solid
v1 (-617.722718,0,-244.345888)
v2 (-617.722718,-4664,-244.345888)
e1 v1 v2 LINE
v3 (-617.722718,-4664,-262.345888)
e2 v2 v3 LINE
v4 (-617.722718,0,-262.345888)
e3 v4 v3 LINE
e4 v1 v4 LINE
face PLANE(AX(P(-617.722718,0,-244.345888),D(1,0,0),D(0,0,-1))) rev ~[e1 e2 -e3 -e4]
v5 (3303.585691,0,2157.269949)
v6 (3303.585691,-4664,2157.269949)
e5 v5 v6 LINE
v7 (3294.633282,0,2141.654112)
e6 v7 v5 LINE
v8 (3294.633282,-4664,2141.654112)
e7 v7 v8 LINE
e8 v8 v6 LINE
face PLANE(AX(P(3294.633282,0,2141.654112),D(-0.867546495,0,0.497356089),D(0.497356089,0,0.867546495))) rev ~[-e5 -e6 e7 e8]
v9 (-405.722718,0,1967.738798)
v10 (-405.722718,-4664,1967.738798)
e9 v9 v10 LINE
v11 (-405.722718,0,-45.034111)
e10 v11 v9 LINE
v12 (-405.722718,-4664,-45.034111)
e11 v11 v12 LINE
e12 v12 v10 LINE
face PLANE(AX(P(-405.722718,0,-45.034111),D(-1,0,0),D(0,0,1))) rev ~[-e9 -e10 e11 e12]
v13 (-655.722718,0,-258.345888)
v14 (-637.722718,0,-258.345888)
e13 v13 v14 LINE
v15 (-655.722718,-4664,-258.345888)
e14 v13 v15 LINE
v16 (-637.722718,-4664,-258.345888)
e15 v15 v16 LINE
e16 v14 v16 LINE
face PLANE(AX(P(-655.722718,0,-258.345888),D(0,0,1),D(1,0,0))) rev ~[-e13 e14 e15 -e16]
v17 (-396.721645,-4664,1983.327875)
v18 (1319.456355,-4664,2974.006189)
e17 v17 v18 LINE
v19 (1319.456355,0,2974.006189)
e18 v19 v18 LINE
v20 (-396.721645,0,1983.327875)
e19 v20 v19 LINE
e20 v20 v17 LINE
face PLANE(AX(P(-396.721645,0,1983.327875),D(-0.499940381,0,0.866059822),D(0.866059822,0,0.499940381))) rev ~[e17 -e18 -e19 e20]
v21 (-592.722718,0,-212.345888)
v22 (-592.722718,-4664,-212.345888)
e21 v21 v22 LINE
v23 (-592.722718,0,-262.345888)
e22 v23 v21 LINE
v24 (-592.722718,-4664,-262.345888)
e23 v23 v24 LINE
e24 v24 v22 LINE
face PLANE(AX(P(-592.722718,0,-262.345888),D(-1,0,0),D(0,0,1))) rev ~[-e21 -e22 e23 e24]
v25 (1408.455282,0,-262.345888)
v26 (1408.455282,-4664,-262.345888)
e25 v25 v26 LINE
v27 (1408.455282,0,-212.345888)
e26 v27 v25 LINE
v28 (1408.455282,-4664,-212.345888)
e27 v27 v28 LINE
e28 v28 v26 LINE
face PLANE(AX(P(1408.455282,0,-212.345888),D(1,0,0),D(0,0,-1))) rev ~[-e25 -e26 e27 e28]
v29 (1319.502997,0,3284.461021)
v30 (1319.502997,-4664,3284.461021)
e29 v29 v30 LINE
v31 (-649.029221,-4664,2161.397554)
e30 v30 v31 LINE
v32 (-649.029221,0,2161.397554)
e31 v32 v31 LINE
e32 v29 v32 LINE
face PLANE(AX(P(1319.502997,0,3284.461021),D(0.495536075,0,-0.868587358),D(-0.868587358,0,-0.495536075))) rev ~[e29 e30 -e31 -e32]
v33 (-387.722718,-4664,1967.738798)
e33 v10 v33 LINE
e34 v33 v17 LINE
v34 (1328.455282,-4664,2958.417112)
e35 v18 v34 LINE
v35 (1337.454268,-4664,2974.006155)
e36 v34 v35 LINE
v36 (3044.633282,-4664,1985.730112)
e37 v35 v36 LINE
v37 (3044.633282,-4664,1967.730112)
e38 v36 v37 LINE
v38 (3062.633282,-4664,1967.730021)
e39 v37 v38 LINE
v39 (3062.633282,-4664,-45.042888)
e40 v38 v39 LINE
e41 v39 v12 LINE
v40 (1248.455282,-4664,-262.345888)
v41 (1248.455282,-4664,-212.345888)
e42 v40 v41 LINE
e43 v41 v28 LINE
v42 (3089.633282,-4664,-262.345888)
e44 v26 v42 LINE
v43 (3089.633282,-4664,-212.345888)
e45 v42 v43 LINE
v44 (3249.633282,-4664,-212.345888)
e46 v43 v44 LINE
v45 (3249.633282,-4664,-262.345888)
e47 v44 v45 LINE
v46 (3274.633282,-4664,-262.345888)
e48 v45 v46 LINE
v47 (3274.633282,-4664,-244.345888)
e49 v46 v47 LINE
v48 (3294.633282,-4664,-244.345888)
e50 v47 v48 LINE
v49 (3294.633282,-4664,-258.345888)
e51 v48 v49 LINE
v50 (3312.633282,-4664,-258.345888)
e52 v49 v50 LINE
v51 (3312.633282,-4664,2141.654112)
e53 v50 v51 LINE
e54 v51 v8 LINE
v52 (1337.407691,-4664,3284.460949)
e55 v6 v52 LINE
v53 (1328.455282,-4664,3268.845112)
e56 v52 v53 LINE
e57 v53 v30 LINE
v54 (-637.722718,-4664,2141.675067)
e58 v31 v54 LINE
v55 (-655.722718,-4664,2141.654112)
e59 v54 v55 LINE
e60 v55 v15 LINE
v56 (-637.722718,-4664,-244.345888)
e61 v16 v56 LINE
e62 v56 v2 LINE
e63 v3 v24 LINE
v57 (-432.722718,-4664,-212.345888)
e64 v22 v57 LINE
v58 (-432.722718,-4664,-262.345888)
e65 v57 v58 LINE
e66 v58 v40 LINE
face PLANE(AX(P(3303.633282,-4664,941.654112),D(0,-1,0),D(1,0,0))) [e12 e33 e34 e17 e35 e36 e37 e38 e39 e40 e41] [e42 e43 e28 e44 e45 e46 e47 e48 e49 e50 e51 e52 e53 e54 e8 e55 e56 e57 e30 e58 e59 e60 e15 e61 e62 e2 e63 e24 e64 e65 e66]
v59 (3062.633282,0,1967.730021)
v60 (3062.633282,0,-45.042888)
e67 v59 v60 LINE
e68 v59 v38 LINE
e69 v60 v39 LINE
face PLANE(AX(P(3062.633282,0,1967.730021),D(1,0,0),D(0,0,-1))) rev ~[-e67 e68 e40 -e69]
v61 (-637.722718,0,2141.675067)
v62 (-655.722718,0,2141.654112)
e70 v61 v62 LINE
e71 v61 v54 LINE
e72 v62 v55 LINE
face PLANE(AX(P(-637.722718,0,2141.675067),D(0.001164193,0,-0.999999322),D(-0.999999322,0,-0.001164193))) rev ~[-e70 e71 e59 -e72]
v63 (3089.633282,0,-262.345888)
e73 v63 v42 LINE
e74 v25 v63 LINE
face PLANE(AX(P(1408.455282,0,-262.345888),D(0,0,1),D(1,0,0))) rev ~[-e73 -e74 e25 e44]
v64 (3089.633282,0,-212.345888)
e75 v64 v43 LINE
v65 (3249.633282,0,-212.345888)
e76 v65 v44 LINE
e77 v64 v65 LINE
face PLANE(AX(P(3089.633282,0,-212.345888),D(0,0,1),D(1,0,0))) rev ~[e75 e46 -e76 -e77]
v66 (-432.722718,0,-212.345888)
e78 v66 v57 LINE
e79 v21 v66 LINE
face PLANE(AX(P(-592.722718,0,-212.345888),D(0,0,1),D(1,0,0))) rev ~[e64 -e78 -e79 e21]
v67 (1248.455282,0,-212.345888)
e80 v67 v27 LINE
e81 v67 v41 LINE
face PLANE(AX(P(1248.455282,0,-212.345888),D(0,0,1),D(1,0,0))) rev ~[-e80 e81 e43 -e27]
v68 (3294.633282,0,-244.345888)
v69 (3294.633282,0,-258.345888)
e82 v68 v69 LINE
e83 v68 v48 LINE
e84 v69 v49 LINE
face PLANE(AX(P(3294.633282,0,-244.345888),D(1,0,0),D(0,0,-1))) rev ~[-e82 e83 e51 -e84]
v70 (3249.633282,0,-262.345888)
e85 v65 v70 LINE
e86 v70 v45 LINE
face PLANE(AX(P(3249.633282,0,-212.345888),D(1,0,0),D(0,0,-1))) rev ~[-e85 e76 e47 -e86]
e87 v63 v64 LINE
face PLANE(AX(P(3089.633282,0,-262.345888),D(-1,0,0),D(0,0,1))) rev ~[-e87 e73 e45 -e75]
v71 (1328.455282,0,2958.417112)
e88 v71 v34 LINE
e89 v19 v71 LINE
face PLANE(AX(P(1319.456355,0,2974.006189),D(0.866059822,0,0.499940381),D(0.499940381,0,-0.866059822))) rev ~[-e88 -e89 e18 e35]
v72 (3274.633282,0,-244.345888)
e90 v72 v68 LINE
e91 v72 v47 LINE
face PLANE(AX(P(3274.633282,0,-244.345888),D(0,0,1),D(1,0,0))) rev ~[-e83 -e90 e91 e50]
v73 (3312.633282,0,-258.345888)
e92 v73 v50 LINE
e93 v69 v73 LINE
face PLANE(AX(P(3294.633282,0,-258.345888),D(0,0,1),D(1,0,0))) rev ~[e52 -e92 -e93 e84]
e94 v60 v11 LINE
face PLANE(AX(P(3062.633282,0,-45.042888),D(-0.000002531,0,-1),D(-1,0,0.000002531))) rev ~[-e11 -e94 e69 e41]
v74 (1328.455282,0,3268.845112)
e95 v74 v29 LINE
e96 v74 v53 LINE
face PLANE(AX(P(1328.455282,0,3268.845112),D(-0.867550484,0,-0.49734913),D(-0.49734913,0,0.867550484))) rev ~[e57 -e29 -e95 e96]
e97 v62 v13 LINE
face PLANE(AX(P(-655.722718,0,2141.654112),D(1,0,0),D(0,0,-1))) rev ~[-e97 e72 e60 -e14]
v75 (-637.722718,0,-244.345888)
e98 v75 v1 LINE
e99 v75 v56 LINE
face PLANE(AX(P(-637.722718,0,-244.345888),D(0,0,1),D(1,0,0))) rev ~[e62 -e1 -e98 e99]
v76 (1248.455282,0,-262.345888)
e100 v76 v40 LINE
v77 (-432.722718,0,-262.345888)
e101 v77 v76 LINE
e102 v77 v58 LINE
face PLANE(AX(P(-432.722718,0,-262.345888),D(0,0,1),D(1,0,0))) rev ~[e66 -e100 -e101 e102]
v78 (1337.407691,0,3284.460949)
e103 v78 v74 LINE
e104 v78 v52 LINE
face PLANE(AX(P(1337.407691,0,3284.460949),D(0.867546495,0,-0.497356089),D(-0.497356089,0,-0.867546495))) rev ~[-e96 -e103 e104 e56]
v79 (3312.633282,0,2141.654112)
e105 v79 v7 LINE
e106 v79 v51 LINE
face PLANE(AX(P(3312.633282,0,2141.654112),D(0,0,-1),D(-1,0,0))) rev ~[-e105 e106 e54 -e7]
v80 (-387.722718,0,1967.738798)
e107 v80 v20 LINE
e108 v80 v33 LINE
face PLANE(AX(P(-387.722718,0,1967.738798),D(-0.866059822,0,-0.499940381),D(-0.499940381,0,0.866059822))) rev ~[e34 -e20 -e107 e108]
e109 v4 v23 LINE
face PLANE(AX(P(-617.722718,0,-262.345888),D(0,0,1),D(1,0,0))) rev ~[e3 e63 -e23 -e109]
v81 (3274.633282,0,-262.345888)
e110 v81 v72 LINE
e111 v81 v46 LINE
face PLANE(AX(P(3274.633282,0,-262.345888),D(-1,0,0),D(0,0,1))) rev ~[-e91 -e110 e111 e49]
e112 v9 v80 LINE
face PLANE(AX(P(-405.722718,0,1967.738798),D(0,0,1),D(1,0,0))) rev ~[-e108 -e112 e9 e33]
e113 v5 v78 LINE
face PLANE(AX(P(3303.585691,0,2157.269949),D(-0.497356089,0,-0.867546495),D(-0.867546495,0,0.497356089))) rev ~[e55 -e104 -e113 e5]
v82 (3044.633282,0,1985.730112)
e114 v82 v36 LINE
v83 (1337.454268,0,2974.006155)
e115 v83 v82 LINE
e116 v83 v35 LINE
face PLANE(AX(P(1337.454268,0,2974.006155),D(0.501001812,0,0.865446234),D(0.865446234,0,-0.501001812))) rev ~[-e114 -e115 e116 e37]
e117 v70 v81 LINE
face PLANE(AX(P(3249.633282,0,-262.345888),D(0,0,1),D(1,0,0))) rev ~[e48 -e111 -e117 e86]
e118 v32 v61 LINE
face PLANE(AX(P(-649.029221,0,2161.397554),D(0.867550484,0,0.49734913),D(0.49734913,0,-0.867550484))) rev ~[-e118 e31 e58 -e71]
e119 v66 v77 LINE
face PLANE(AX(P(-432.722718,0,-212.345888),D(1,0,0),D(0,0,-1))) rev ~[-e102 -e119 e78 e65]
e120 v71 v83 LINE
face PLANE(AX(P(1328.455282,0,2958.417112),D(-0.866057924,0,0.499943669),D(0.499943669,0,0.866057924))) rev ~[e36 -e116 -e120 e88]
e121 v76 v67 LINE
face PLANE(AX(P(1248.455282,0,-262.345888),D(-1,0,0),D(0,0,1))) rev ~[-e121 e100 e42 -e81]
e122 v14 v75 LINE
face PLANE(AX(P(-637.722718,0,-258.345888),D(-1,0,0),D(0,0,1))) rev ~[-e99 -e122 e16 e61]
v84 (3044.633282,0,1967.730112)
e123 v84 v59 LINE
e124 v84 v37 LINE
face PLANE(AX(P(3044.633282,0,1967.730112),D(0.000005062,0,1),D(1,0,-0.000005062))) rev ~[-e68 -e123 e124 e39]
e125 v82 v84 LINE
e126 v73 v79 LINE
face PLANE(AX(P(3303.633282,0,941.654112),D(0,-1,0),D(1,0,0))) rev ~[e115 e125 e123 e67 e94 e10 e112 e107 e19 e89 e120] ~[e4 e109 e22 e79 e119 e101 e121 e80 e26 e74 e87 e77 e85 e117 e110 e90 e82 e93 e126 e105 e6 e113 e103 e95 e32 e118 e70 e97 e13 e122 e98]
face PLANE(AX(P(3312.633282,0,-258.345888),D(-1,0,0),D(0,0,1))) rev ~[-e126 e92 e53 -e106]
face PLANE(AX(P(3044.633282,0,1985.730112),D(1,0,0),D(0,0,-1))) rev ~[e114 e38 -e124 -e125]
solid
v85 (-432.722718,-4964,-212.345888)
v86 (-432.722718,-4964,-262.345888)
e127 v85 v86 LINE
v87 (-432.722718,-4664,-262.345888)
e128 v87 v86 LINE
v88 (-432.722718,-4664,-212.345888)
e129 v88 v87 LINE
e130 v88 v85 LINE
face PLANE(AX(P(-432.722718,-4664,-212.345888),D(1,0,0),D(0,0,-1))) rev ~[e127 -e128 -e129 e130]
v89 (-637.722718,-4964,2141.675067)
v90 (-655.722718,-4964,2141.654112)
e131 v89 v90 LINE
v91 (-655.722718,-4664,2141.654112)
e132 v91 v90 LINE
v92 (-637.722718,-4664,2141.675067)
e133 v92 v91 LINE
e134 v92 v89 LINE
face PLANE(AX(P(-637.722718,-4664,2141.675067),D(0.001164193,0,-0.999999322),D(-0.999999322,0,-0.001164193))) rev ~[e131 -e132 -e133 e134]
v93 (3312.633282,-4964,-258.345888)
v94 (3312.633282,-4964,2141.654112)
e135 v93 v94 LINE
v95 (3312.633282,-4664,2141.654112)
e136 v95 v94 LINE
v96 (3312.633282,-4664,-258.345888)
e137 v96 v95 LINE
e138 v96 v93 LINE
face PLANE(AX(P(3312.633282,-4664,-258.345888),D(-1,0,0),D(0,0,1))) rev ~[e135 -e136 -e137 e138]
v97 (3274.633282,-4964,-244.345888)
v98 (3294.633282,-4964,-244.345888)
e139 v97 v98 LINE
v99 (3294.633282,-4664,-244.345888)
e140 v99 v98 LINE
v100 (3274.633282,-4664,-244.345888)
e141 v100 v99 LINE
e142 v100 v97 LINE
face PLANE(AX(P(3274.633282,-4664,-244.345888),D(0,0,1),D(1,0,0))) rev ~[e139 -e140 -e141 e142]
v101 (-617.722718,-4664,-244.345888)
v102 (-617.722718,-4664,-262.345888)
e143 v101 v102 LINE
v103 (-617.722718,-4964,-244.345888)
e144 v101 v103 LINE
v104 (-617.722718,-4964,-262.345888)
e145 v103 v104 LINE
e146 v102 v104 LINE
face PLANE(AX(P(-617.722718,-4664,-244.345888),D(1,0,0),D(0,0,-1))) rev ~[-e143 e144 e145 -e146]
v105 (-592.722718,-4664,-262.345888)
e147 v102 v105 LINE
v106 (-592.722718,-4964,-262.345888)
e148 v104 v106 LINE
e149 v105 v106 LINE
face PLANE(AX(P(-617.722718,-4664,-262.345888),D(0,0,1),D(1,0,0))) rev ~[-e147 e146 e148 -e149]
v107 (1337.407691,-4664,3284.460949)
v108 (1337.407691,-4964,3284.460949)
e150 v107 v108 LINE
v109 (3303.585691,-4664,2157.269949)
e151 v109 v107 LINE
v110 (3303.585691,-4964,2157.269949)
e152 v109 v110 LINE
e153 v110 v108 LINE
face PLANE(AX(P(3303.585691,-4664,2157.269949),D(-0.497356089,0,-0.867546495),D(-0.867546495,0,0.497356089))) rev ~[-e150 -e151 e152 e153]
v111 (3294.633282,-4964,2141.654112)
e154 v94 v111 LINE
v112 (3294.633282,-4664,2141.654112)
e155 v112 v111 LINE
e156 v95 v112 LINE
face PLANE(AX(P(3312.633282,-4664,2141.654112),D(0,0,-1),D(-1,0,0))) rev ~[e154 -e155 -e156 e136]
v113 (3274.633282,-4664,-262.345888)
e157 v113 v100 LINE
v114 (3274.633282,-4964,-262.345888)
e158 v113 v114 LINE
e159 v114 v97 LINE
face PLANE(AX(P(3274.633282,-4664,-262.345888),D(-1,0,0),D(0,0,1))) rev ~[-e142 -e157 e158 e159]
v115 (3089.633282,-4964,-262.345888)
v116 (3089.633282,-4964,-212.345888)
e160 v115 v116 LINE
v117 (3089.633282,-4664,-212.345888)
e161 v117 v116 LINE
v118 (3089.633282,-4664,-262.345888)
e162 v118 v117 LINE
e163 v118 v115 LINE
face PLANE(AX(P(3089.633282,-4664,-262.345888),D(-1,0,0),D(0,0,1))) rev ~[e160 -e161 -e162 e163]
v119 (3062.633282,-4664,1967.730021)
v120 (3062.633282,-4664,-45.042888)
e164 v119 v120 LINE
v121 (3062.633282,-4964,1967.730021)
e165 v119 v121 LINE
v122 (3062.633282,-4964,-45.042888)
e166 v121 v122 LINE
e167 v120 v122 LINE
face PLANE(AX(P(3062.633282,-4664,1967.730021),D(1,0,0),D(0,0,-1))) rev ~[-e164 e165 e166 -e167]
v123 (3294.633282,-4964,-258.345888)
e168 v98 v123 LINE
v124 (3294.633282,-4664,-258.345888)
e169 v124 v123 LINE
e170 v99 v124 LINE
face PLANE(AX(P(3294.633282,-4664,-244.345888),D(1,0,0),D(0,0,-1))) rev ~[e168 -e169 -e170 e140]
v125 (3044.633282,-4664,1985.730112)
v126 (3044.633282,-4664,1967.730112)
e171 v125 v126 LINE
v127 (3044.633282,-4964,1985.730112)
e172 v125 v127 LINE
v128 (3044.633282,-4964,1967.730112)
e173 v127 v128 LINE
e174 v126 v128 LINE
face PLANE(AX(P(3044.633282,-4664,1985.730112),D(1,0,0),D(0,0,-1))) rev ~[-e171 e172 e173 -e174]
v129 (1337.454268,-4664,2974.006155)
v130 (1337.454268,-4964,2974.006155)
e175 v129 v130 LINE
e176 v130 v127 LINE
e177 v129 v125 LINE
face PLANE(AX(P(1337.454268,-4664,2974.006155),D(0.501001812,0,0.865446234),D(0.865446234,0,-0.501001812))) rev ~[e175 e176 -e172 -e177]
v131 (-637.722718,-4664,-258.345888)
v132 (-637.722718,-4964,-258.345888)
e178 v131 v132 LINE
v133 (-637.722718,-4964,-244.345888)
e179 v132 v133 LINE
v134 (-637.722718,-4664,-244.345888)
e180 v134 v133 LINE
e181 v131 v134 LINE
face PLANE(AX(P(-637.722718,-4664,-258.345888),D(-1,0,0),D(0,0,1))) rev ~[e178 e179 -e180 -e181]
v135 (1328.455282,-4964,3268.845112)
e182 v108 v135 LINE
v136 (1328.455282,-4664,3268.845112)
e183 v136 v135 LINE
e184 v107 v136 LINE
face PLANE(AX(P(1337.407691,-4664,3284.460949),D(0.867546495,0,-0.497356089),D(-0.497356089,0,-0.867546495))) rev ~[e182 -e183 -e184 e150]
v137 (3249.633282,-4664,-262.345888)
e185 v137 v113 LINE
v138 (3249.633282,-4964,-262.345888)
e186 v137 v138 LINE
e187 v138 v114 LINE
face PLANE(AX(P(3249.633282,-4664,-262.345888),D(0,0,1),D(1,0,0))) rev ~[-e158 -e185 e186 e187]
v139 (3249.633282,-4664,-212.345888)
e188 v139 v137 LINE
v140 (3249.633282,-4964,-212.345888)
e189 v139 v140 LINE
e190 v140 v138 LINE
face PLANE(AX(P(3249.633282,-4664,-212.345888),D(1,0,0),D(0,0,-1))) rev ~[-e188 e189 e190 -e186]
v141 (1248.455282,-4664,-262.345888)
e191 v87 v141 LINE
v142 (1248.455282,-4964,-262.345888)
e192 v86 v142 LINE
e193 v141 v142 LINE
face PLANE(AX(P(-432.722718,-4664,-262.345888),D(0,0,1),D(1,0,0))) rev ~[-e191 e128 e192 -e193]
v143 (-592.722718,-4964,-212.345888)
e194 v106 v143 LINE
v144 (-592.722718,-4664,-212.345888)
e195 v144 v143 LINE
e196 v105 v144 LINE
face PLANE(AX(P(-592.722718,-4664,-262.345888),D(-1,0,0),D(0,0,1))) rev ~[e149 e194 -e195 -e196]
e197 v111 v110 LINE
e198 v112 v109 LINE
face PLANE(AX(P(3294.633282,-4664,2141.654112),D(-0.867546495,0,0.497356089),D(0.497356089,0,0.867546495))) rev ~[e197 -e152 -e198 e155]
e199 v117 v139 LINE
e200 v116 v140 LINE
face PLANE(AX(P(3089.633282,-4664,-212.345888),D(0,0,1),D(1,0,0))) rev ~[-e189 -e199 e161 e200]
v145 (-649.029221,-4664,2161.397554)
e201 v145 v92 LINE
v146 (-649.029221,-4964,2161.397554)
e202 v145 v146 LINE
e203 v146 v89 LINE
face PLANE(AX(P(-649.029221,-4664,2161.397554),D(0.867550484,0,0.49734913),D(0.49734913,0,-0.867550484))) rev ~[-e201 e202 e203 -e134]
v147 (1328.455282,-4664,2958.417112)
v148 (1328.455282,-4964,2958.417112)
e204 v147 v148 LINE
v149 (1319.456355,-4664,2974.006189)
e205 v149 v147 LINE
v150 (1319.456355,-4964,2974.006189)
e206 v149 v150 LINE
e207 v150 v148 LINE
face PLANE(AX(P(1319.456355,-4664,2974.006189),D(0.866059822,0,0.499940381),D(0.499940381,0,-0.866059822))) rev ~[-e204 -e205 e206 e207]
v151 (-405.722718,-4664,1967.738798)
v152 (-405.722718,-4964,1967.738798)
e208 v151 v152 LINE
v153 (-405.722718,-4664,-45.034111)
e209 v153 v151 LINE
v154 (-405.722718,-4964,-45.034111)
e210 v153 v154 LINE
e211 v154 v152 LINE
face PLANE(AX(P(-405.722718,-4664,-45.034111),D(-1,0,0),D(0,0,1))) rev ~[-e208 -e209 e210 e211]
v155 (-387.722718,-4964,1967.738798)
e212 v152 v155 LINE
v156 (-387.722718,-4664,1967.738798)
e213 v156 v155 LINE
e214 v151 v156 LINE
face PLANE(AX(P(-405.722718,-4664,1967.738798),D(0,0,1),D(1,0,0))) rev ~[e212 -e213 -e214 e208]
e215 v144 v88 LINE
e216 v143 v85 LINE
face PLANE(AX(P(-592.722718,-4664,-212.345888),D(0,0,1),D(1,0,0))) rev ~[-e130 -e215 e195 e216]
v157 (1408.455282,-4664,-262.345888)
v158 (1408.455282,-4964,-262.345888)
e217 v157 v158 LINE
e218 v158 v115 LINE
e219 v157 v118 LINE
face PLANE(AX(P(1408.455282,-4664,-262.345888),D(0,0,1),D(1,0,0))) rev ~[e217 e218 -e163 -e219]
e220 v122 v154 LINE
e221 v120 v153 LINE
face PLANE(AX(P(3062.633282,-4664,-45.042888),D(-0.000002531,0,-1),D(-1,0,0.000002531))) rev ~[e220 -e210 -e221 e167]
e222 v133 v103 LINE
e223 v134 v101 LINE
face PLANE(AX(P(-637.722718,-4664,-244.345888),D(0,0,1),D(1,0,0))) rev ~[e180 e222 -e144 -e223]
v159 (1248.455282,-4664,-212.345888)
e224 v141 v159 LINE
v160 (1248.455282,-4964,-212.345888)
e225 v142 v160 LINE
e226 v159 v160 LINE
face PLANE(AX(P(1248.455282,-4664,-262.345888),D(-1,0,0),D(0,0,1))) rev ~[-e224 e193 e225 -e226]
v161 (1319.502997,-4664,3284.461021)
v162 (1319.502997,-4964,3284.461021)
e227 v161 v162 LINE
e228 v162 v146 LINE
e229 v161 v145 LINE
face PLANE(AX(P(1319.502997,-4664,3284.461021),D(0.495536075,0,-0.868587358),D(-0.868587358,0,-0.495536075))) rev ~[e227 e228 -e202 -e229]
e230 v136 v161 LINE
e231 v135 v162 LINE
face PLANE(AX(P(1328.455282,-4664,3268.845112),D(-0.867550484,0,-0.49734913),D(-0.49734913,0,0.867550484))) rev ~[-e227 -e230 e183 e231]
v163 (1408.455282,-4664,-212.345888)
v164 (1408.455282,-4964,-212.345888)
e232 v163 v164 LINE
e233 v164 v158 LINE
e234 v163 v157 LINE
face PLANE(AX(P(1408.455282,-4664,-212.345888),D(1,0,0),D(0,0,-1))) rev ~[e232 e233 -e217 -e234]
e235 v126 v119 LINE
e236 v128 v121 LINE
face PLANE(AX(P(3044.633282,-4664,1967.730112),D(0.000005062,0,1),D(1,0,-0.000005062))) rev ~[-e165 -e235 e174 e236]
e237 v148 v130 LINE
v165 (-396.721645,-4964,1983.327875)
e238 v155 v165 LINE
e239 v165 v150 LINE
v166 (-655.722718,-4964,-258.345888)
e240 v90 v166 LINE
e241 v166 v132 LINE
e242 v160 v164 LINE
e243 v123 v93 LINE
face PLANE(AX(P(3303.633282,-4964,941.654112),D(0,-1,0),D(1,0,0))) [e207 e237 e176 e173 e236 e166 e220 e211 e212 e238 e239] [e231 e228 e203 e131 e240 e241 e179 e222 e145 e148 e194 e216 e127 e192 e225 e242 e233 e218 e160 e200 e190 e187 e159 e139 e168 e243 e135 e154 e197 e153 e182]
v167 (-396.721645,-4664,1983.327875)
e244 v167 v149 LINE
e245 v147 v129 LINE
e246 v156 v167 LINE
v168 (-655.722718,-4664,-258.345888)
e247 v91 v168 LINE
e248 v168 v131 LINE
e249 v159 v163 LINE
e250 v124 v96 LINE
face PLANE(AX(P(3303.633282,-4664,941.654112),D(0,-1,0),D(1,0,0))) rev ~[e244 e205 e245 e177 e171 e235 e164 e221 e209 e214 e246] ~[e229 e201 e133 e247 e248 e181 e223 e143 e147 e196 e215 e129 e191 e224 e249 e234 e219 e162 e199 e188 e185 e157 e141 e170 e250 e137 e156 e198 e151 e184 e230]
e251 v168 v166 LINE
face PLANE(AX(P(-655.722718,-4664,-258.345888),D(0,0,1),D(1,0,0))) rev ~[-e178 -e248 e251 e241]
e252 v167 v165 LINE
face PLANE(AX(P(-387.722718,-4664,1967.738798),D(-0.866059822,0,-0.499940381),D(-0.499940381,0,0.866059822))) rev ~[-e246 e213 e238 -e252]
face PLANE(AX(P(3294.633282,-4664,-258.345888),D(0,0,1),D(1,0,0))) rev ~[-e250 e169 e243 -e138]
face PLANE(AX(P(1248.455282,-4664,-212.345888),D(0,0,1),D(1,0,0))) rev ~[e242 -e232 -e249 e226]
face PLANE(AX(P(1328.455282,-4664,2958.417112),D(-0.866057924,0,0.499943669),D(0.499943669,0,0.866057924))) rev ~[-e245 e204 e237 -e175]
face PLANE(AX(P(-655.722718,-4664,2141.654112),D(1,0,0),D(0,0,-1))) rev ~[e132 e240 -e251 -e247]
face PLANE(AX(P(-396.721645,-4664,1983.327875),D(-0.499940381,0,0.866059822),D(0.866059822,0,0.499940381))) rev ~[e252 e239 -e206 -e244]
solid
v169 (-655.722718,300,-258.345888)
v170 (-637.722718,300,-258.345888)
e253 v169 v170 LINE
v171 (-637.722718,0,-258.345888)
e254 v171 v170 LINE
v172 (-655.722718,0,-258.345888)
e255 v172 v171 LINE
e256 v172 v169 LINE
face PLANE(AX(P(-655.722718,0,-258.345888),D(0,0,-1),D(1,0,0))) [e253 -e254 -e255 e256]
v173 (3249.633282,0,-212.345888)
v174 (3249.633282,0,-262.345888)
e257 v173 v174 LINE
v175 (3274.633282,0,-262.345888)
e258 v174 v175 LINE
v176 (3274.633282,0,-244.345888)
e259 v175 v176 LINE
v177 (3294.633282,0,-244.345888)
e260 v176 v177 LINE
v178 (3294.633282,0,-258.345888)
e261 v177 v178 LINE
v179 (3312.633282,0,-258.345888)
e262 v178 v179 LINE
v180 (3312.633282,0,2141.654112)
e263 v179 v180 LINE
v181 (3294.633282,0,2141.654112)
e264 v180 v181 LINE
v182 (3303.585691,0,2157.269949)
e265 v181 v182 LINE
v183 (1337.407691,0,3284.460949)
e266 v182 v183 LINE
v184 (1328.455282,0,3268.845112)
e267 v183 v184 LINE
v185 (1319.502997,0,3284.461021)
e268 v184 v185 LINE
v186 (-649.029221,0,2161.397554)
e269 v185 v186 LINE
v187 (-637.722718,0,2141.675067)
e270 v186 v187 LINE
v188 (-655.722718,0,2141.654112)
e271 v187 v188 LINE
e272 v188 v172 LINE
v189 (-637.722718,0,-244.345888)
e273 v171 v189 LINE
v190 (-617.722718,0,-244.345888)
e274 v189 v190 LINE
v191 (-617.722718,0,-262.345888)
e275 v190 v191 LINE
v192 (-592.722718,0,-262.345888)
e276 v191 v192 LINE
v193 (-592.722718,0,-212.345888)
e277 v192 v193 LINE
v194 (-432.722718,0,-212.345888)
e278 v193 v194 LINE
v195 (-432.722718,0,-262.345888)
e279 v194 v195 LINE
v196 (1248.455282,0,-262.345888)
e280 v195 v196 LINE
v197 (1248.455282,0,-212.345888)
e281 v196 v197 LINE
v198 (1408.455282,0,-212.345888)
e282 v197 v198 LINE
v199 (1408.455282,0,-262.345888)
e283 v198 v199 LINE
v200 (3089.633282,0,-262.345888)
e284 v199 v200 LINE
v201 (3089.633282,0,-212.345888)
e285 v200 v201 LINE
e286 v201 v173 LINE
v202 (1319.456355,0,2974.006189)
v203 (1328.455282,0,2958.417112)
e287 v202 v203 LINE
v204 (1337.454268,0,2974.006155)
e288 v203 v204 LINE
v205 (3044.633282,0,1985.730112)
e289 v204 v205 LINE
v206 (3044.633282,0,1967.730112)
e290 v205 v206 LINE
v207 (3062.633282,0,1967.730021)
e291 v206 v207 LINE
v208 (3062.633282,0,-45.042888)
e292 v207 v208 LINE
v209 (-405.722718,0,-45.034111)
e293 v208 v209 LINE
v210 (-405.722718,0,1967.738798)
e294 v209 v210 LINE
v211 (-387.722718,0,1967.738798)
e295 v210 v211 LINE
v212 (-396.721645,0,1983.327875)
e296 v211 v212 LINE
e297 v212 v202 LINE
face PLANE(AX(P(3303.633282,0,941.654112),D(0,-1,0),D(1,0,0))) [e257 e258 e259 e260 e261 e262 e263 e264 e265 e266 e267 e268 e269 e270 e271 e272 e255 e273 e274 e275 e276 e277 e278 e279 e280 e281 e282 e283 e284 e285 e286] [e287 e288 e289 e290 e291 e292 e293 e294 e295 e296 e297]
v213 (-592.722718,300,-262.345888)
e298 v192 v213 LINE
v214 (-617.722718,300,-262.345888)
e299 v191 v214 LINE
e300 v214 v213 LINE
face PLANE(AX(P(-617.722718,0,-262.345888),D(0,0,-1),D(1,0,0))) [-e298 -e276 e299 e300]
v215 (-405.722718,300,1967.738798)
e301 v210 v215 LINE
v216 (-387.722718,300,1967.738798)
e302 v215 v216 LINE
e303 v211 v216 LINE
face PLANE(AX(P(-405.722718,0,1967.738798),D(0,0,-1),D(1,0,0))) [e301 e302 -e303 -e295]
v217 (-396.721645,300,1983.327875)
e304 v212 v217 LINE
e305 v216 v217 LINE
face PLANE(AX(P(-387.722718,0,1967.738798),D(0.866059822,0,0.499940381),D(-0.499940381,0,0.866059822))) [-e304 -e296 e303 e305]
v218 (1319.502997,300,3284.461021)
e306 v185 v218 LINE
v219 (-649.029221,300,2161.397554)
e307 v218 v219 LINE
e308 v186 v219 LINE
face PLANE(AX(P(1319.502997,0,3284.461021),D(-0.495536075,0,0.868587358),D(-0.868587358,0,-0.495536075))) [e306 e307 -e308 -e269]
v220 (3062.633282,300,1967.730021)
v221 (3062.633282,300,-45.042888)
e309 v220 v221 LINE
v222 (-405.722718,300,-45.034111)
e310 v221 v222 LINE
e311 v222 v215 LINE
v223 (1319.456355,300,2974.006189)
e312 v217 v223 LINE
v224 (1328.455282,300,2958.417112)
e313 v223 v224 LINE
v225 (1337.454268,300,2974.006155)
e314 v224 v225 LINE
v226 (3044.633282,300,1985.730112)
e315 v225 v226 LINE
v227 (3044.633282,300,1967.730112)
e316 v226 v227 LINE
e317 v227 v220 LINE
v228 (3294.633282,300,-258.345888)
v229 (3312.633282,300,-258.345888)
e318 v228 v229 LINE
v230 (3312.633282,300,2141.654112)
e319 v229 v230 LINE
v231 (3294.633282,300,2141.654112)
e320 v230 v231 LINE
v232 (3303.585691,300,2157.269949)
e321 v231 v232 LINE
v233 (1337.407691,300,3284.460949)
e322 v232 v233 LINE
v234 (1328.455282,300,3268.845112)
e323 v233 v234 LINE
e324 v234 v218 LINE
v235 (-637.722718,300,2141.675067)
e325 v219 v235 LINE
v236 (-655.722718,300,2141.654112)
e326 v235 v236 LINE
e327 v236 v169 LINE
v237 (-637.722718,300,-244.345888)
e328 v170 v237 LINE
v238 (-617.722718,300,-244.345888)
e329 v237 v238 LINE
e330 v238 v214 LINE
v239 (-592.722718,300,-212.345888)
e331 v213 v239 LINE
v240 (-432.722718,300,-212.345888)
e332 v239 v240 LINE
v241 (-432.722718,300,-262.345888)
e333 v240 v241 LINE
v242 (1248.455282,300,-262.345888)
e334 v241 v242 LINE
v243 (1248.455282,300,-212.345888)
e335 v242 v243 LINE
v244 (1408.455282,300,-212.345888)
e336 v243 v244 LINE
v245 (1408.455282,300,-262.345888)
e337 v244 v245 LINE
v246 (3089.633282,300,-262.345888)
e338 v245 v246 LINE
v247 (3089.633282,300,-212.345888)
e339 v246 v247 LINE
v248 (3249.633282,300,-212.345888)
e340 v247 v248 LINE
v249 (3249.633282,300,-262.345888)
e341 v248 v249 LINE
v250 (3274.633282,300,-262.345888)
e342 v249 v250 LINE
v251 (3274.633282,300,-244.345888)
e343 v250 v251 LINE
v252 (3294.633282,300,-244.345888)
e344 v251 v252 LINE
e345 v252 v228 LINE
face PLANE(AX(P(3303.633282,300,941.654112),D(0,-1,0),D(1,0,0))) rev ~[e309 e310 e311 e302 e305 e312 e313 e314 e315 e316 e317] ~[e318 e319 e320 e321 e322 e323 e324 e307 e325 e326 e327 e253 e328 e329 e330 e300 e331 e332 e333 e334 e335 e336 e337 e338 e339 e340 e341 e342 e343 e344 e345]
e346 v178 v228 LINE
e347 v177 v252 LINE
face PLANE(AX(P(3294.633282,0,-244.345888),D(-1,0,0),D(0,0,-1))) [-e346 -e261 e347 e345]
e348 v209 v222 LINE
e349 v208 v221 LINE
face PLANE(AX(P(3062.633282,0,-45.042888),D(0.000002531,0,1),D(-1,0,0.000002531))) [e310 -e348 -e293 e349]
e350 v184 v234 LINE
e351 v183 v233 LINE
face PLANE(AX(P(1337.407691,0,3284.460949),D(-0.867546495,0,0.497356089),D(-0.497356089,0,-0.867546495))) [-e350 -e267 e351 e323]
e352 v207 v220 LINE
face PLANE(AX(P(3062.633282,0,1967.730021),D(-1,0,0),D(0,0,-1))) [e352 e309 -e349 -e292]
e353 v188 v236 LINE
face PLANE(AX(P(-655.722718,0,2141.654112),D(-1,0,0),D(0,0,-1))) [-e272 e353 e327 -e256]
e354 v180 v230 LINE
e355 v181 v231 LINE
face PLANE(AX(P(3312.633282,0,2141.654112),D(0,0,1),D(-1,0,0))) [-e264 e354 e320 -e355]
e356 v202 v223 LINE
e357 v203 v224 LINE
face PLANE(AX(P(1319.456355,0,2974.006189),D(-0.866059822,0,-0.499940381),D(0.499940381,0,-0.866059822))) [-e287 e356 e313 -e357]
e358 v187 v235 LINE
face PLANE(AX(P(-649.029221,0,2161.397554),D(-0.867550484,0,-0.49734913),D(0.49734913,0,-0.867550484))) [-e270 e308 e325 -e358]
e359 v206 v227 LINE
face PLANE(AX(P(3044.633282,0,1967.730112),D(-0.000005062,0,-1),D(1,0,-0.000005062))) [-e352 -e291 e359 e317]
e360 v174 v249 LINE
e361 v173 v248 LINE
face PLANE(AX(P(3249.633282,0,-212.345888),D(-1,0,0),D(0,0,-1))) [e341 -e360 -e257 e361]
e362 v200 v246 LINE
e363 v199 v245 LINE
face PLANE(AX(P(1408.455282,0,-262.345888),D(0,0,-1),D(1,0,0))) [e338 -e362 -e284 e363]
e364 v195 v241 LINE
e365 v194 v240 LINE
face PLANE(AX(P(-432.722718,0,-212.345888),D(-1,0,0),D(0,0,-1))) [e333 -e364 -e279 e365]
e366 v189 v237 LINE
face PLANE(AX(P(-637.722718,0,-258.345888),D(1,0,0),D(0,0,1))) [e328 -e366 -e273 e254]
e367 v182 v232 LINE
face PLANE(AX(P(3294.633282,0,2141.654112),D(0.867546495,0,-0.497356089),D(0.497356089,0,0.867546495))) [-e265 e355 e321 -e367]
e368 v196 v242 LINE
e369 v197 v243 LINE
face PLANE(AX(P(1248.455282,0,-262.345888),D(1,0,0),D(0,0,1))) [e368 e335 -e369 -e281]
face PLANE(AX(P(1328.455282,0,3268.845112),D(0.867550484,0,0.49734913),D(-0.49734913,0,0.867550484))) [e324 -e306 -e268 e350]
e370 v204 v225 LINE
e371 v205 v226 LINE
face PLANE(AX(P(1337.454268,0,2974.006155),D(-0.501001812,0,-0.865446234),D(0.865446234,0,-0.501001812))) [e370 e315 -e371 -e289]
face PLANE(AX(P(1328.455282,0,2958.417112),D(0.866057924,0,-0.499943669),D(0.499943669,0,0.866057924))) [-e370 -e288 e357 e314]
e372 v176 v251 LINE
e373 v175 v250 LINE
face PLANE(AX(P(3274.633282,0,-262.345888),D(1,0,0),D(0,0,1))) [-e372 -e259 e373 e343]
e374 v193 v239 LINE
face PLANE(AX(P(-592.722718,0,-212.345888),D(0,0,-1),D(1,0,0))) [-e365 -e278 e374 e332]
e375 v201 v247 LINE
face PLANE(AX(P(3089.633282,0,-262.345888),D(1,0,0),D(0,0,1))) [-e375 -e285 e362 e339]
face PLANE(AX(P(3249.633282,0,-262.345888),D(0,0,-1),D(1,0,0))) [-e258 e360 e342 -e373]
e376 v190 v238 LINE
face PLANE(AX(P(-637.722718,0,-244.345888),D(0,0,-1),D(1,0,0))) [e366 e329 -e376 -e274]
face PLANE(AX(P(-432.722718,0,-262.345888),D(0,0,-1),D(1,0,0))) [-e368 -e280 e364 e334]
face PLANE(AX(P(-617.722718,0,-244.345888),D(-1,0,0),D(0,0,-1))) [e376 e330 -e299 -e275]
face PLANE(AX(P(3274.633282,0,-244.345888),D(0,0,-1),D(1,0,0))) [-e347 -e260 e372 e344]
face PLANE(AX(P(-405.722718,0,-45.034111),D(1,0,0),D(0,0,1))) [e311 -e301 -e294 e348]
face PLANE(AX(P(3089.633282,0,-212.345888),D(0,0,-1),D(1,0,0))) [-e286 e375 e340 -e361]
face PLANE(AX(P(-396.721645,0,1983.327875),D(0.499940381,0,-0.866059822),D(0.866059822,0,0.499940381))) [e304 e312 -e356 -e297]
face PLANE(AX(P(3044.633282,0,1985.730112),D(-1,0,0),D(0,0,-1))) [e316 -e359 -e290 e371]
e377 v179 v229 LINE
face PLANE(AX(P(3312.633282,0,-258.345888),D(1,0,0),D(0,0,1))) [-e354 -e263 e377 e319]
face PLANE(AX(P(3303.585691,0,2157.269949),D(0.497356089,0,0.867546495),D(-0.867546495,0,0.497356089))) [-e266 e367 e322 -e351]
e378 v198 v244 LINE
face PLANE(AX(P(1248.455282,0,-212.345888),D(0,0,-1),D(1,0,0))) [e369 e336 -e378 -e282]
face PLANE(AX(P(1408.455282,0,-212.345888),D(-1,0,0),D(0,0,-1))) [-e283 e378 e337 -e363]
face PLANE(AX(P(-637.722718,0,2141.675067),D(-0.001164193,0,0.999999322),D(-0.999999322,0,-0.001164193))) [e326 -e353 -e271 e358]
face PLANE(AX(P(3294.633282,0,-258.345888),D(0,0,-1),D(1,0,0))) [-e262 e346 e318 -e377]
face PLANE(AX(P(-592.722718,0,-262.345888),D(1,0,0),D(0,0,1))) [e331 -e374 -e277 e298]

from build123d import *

# Parameters (mm, degrees)
F1_DEPTH = 4664
F2_DEPTH = 300
F3_DEPTH = 300


with BuildPart() as f1:
    # F0 (on Front) → F1 (new body)
    with BuildSketch(Plane.XZ):
        Polygon((3294.6332816305, -244.3458880704), (3294.6332816305, -258.3458880704), (3312.6332816305, -258.3458880704), (3312.6332816305, 2141.6541119296), (3294.6332816305, 2141.6541119296), align=None)
        Polygon((3274.6332816305, -244.3458880704), (3294.6332816305, -244.3458880704), (3294.6332816305, 2141.6541119296), (2775.2804956467, 2141.656879555), (3044.6332816305, 1985.7301119296), (3044.6332816305, 1967.7301119296), (3062.6332816303, 1967.7300208224), (3062.6332816305, -9.0428880704), (3062.6332816305, -27.0428880704), (3062.6332816305, -45.0428880704), (1328.4552816305, -45.0384992861), (1328.4552816305, -212.3458880704), (1408.4552816305, -212.3458880704), (1408.4552816305, -262.3458880704), (3089.6332816305, -262.3458880704), (3089.6332816305, -212.3458880704), (3249.6332816305, -212.3458880704), (3249.6332816305, -262.3458880704), (3274.6332816305, -262.3458880704), align=None)
        Polygon((2775.2804956467, 2141.656879555), (3294.6332816305, 2141.6541119296), (1328.4552816305, 3268.8451119296), (1328.4552816305, 2976.4171119296), (1328.4552816305, 2958.4171119296), (1337.4542676775, 2974.0061545598), align=None)
        Polygon((1328.4552816305, 3268.8451119296), (3294.6332816305, 2141.6541119296), (3303.5856912375, 2157.2699488342), (1337.4076912375, 3284.4609488342), align=None)
        Polygon((1328.4552816305, 2976.4171119296), (1328.4552816305, 3268.8451119296), (-637.7227183695, 2141.6750674118), (-122.4174122387, 2141.6723213555), (1319.4563547663, 2974.0061887237), (1328.4552816305, 2958.4171119296), align=None)
        Polygon((-637.7227183695, 2141.6750674118), (1328.4552816305, 3268.8451119296), (1319.5029972882, 3284.4610206465), (-649.0292205303, 2161.3975537515), align=None)
        Polygon((-122.4174122387, 2141.6723213555), (-637.7227183695, 2141.6750674118), (-637.7227183695, -244.3458880704), (-617.7227183695, -244.3458880704), (-617.7227183695, -262.3458880704), (-592.7227183695, -262.3458880704), (-592.7227183695, -212.3458880704), (-432.7227183695, -212.3458880704), (-432.7227183695, -262.3458880704), (1248.4552816305, -262.3458880704), (1248.4552816305, -212.3458880704), (1328.4552816305, -212.3458880704), (1328.4552816305, -45.0384992861), (-405.7227183693, -45.0341105019), (-405.7227183693, -27.0341105019), (-405.7227183693, -9.0341105019), (-405.7227183695, 1967.7387983908), (-387.7227183695, 1967.7387983908), (-396.7216452337, 1983.3278751849), align=None)
        Polygon((-637.7227183695, -244.3458880704), (-637.7227183695, 2141.6750674118), (-655.7227183695, 2141.6541119296), (-655.7227183695, -258.3458880704), (-637.7227183695, -258.3458880704), align=None)
    extrude(amount=F1_DEPTH)


with BuildPart() as f2:
    # F2 (new): a face of the model
    f2_faces = [f1.part.faces().sort_by_distance(p)[0] for p in [
        (3299.955657847, -4664, -251.3458880704),
    ]]
    extrude(f2_faces, amount=F2_DEPTH)


with BuildPart() as f3:
    # F3 (new): a face of the model
    f3_faces = [f1.part.faces().sort_by_distance(p)[0] for p in [
        (3299.955657847, 0, -251.3458880704),
    ]]
    extrude(f3_faces, amount=F3_DEPTH)


solid = Compound([f1.part, f2.part, f3.part])
